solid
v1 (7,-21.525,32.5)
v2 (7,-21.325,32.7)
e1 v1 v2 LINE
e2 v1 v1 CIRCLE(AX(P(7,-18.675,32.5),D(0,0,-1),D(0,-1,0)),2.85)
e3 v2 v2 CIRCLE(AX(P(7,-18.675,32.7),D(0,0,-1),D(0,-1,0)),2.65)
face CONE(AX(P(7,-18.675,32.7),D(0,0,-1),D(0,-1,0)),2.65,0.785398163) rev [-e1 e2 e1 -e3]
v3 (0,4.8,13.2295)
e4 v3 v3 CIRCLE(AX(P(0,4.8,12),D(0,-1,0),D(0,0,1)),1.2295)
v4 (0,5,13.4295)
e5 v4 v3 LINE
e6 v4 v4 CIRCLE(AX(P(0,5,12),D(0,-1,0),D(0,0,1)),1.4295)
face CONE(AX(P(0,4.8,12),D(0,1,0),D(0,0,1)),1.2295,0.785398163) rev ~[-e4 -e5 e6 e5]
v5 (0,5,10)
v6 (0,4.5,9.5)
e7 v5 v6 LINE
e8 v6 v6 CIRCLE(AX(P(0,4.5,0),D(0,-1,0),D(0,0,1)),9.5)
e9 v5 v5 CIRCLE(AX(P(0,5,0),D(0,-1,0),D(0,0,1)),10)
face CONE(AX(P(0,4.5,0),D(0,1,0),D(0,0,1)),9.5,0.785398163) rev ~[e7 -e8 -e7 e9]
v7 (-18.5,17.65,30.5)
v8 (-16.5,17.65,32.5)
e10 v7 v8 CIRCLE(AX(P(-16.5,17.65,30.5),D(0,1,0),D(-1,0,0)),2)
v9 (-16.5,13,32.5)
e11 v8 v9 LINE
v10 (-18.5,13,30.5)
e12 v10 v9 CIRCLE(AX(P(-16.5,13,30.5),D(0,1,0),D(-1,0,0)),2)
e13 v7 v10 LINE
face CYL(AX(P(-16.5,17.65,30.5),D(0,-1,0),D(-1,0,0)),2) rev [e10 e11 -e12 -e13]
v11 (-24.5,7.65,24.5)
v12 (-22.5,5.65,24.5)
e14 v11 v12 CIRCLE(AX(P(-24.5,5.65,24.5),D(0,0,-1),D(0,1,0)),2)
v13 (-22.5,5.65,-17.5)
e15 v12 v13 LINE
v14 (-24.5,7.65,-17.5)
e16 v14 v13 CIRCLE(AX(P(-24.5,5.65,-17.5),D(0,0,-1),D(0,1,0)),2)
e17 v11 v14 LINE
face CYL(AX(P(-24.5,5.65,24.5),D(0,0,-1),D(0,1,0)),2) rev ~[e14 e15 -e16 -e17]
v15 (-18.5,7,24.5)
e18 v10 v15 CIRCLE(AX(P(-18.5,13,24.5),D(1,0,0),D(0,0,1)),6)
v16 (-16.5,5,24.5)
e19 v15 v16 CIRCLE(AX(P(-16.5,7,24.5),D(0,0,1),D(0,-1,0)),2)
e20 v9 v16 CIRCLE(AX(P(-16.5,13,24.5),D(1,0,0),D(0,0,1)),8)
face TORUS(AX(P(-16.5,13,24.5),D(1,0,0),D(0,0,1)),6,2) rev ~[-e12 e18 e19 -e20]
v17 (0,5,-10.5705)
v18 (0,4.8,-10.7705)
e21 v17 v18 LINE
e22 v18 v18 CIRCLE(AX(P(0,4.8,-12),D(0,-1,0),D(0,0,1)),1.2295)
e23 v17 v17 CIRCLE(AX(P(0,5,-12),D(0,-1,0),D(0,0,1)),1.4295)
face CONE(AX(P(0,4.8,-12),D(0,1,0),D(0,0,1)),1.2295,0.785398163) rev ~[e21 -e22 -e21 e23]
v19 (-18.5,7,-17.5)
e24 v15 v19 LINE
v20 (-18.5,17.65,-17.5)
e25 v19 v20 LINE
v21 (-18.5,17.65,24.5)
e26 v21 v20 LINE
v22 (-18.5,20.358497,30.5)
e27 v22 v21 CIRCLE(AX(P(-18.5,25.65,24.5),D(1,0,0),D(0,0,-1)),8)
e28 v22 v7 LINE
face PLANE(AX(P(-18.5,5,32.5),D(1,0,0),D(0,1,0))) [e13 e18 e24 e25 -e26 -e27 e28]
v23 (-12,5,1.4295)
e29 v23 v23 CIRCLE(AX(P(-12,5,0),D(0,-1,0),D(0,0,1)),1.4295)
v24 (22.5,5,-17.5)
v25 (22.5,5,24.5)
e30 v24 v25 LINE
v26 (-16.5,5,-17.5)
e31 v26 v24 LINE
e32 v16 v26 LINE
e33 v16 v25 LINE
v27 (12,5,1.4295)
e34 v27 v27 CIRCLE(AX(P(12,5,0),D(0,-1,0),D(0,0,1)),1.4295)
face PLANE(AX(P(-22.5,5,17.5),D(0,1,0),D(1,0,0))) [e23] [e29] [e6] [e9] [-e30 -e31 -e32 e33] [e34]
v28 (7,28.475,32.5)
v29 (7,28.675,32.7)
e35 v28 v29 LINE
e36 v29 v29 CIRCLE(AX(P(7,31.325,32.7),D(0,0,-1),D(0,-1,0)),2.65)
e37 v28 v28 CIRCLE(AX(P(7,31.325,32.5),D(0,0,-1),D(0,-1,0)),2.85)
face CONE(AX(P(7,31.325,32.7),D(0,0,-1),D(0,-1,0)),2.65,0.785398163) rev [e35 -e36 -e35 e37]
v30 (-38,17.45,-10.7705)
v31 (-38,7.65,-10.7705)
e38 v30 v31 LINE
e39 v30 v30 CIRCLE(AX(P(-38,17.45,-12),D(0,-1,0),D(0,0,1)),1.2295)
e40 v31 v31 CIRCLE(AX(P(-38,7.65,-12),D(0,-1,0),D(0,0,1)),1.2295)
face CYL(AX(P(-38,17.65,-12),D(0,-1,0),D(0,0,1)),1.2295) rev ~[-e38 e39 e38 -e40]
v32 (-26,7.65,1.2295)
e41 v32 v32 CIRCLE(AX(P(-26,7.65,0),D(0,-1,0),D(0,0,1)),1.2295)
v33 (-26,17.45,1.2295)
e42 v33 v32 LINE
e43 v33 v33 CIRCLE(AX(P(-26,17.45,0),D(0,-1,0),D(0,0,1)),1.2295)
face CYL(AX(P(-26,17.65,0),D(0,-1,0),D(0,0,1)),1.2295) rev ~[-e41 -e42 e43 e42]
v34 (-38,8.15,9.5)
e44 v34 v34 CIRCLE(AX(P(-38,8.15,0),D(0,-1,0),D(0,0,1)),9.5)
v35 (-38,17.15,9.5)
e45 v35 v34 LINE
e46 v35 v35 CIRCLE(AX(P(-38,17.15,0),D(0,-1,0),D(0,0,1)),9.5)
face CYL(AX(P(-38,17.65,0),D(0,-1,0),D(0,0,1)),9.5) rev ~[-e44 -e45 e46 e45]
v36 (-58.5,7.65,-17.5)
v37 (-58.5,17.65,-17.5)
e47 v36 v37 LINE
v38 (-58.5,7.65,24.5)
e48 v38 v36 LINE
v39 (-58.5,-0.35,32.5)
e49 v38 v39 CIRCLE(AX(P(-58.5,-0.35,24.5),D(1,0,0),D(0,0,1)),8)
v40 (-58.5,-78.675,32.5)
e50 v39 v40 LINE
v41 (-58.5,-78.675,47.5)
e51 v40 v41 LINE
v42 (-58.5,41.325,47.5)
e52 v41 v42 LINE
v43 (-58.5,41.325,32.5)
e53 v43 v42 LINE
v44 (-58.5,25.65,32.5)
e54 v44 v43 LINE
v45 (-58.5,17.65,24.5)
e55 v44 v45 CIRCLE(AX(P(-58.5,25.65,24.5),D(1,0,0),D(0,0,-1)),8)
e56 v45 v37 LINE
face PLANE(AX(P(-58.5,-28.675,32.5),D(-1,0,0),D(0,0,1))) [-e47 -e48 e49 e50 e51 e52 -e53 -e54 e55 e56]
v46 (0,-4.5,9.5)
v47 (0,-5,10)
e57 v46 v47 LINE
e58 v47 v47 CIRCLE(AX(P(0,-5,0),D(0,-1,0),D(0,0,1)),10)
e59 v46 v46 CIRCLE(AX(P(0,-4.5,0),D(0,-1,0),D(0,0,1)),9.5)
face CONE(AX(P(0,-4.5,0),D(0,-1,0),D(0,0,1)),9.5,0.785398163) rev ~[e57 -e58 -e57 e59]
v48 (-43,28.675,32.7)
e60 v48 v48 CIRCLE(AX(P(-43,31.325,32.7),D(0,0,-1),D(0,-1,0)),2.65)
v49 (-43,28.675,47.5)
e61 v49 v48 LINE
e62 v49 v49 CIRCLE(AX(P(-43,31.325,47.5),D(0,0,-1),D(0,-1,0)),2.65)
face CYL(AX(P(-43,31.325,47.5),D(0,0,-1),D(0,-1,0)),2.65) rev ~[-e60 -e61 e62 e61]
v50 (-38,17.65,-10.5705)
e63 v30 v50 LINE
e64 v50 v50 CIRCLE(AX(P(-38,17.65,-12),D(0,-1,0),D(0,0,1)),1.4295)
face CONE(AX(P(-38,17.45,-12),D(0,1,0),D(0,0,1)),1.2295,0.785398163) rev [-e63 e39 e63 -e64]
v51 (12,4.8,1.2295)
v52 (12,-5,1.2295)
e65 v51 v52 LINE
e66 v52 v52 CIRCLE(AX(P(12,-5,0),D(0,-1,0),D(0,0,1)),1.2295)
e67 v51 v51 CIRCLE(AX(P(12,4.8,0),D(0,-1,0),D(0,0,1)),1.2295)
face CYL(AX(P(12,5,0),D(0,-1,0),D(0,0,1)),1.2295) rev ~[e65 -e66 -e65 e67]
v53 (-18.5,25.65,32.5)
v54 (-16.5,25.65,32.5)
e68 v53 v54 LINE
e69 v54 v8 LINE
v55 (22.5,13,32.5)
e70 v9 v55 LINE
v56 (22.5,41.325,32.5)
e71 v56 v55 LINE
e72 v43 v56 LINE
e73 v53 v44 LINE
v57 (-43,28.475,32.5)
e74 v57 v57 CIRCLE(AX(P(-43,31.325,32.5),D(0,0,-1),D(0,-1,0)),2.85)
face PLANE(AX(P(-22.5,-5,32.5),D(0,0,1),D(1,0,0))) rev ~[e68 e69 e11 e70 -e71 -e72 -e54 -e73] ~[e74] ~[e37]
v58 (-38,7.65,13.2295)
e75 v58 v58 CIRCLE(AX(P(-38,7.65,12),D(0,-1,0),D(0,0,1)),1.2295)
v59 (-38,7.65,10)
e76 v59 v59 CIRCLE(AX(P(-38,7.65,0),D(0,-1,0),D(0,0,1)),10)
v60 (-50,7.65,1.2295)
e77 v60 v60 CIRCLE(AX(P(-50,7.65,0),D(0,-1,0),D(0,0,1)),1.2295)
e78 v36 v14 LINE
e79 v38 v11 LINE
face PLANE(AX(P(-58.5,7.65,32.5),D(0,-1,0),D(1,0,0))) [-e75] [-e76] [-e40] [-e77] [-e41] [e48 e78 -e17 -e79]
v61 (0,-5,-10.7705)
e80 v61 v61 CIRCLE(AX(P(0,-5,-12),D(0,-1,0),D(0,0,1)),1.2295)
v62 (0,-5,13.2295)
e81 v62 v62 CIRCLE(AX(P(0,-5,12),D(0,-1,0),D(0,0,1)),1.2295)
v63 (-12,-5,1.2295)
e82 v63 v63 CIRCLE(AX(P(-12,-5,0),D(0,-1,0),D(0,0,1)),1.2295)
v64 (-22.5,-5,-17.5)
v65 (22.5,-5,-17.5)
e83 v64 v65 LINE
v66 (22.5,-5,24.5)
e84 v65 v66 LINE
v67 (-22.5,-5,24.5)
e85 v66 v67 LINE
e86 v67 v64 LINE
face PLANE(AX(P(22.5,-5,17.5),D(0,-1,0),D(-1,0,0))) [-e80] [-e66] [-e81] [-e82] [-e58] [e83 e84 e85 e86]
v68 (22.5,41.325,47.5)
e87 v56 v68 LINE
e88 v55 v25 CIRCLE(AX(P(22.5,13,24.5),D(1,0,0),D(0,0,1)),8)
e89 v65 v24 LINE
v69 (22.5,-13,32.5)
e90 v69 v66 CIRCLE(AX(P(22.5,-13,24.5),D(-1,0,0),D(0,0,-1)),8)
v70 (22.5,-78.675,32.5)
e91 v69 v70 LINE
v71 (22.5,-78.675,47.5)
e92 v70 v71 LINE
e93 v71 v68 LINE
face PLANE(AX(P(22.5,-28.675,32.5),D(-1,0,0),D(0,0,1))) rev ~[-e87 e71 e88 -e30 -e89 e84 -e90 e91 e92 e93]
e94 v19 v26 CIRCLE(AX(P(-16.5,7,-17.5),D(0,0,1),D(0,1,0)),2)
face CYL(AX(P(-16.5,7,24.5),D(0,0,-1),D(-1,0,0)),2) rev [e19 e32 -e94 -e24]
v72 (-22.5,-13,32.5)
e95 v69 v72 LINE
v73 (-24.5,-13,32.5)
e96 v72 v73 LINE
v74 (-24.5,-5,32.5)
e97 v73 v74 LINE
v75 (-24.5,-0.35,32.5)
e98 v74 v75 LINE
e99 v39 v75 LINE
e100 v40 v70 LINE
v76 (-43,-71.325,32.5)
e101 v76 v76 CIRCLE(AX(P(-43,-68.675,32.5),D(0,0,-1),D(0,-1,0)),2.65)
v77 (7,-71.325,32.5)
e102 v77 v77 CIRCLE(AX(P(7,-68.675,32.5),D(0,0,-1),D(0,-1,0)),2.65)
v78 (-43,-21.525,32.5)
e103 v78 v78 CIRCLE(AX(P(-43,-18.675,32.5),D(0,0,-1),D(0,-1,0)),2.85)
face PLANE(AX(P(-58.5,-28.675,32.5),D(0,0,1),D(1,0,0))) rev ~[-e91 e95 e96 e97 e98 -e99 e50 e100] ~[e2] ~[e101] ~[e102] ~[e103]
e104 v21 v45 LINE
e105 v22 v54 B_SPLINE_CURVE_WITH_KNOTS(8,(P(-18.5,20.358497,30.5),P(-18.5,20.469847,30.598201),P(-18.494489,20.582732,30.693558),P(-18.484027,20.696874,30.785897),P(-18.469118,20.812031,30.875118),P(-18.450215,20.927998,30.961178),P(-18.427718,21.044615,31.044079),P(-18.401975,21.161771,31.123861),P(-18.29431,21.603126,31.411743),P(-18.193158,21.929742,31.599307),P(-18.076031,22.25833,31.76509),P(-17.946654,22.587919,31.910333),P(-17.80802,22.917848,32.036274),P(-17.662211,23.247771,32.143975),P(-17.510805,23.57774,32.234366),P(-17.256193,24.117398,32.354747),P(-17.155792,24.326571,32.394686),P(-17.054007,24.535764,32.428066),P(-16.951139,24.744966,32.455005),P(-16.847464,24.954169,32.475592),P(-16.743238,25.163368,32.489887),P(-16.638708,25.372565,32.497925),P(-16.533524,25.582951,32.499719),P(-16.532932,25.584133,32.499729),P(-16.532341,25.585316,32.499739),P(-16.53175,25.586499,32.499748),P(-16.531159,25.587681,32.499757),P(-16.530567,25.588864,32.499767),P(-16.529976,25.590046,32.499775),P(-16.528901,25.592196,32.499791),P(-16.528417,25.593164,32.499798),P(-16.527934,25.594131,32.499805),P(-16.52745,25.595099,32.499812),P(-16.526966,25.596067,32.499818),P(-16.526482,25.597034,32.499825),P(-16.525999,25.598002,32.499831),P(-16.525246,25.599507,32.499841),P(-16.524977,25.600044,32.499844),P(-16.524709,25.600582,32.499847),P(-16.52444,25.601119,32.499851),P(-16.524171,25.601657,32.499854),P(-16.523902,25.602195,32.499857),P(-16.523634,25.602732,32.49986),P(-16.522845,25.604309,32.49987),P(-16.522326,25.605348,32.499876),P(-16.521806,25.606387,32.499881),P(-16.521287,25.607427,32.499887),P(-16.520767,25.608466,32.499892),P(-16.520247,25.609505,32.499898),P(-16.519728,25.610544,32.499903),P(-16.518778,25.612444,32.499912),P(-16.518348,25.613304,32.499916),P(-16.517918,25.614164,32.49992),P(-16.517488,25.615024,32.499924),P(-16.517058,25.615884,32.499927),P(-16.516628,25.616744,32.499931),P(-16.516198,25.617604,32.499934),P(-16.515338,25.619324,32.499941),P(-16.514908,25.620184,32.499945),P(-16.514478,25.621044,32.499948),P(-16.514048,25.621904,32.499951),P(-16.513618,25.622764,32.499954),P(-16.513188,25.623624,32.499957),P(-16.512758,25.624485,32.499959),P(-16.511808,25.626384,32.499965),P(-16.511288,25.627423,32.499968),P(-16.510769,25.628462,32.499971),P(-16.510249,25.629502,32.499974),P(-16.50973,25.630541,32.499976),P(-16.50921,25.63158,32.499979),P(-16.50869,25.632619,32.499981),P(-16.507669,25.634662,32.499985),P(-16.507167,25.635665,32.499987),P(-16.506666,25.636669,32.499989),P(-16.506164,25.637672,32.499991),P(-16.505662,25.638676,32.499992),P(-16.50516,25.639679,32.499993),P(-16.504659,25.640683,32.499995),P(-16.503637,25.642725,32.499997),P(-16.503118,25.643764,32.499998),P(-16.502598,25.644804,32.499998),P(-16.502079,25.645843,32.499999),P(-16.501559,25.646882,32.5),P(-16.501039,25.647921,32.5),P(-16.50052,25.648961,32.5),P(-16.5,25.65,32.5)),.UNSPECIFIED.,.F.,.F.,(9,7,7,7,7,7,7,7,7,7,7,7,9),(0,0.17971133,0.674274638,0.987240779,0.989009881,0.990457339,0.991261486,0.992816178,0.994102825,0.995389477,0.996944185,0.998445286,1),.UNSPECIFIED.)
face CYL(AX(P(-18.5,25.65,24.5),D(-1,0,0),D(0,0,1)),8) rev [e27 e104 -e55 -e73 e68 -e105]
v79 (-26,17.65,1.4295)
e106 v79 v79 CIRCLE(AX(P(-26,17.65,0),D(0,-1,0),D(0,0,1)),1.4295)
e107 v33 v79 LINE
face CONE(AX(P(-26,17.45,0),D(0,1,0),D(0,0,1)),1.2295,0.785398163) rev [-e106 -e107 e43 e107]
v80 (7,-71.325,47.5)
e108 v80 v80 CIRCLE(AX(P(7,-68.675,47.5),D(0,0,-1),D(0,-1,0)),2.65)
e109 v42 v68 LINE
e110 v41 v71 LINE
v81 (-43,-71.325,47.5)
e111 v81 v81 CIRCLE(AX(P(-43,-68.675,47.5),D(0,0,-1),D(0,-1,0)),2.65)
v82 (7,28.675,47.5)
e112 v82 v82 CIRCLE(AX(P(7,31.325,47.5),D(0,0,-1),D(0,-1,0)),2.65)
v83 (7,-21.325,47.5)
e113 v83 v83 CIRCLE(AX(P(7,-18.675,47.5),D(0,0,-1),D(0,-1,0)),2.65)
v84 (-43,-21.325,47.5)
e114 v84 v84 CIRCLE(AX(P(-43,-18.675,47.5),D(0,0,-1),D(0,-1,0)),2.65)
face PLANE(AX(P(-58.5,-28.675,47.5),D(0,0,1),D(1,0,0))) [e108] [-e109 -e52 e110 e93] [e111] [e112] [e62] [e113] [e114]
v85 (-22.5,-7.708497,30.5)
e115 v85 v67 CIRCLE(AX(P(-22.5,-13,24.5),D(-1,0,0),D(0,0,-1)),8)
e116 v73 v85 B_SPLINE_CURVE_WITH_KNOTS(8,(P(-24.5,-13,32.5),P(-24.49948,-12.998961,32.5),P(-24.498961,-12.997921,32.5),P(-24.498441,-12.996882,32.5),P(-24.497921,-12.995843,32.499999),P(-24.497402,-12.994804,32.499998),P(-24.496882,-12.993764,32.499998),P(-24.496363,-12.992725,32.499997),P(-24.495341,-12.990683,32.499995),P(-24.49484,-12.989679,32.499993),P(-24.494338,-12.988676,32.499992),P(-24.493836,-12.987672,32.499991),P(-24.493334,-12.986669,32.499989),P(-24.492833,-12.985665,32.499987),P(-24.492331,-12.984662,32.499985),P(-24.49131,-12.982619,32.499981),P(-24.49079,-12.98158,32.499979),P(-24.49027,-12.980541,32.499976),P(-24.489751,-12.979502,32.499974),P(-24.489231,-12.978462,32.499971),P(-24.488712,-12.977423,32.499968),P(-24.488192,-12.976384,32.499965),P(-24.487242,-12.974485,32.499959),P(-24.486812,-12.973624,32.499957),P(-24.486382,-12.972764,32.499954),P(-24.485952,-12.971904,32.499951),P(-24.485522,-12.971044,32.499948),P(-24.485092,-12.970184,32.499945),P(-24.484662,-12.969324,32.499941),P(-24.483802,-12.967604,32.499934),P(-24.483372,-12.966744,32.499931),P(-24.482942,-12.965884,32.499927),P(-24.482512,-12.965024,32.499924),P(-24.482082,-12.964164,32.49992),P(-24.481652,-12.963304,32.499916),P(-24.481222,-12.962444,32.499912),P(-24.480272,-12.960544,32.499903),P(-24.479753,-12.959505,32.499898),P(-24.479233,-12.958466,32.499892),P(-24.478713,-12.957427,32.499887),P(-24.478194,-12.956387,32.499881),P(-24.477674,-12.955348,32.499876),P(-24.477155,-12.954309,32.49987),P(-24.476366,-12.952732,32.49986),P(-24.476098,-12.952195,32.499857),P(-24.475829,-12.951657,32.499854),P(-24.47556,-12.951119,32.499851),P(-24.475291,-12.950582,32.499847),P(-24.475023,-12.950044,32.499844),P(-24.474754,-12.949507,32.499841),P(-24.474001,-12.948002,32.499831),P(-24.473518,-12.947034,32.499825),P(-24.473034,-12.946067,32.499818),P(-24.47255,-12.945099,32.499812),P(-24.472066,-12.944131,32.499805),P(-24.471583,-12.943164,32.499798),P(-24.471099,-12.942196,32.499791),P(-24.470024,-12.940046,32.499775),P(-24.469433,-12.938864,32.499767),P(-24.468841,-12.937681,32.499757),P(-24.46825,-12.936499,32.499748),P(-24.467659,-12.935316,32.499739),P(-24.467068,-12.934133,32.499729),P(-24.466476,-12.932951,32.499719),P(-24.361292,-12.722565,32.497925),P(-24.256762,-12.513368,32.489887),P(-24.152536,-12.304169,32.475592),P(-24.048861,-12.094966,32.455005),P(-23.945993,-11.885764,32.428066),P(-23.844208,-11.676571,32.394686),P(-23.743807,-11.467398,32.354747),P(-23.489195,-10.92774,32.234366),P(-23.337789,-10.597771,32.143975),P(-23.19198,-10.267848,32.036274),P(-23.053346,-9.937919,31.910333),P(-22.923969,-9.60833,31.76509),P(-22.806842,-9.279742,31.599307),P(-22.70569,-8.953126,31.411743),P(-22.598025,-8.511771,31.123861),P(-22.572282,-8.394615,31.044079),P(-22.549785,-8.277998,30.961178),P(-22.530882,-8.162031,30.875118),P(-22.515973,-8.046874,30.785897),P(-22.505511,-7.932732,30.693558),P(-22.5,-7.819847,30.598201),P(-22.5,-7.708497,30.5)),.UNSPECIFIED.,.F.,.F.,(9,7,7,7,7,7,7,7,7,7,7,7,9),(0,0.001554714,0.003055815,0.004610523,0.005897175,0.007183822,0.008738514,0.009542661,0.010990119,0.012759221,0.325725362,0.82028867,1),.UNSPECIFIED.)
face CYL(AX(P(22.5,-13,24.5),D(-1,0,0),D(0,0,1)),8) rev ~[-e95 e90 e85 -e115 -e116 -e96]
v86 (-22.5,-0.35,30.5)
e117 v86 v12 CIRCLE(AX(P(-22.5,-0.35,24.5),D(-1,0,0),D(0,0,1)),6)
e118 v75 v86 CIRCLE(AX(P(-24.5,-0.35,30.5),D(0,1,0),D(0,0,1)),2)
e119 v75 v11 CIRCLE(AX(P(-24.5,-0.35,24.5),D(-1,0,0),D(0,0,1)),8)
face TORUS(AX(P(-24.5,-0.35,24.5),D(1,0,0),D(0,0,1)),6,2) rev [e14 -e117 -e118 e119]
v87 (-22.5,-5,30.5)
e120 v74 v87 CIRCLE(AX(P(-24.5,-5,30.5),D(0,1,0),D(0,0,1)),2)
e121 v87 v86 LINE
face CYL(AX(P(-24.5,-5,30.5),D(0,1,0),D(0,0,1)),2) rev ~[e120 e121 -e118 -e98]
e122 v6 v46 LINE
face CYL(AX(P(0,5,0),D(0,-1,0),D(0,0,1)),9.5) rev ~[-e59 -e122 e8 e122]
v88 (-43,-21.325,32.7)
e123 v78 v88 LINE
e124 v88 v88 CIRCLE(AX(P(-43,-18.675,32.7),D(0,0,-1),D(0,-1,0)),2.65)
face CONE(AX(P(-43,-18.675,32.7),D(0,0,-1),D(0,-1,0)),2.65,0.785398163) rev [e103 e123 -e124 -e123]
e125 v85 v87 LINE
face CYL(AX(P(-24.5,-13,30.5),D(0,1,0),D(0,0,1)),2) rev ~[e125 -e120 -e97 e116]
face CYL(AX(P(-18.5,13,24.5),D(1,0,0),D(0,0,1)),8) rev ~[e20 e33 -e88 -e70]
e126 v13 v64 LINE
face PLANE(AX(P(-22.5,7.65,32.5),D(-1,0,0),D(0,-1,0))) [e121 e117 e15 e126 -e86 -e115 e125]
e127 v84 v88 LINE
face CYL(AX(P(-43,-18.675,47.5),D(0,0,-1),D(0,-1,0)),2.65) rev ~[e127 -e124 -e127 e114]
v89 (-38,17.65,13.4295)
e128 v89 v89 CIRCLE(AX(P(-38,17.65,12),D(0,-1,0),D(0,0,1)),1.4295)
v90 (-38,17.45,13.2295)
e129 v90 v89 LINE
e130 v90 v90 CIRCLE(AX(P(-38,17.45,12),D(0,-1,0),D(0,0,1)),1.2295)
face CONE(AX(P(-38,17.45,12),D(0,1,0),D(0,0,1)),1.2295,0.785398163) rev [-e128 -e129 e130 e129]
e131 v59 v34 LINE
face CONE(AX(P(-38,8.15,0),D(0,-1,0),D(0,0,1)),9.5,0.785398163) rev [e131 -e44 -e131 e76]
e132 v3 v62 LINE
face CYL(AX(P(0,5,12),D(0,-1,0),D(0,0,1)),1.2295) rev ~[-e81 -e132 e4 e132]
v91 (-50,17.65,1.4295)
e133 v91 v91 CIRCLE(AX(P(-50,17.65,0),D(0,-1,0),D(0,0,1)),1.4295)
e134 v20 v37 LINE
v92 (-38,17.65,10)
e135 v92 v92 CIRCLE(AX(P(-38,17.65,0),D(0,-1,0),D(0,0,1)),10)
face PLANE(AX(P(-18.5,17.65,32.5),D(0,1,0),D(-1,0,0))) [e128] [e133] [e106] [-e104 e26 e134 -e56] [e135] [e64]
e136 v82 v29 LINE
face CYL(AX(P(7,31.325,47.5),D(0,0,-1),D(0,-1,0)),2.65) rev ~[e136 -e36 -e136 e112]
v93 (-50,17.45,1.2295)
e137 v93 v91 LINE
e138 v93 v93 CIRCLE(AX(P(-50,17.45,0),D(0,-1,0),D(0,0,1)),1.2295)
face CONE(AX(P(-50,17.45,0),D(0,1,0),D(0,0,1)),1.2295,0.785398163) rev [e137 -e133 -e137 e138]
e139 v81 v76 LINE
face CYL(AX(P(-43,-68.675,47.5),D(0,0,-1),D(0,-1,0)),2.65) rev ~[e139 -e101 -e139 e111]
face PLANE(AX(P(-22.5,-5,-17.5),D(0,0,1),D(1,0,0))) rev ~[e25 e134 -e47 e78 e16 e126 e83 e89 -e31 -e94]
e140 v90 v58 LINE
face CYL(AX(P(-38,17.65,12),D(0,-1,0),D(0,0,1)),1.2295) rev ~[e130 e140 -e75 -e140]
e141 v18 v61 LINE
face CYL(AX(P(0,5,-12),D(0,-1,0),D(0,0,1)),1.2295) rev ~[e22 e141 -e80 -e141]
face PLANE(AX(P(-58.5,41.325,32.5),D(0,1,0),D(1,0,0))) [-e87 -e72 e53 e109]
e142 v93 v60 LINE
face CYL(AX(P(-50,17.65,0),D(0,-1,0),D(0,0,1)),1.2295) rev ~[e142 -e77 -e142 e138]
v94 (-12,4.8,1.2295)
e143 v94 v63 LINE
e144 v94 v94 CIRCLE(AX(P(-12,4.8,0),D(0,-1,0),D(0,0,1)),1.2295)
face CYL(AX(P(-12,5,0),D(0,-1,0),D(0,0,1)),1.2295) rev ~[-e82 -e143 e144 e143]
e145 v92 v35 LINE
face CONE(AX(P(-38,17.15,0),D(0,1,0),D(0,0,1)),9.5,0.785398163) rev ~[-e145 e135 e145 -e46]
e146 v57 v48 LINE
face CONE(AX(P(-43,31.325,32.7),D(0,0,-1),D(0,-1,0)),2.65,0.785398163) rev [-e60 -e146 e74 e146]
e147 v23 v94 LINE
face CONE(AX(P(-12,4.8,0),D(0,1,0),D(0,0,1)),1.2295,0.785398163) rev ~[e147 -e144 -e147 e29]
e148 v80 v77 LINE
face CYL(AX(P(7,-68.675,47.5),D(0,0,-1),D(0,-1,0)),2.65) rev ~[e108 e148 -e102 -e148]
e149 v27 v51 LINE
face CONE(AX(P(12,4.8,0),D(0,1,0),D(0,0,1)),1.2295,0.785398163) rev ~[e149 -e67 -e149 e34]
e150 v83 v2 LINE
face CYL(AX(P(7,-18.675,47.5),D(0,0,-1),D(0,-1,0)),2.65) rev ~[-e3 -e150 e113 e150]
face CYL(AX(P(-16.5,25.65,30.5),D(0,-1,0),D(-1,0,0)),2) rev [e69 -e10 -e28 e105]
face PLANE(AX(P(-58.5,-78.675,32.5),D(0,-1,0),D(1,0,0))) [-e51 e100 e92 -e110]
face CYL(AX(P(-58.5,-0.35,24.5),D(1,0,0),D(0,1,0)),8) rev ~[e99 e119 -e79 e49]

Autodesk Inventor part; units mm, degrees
ref_plane "YZ Plane" through (0, 0, 0) normal (1, 0, 0) x (0, 1, 0)
ref_plane "XZ Plane" through (0, 0, 0) normal (0, 1, 0) x (-1, 0, 0)
ref_plane "XY Plane" through (0, 0, 0) normal (0, 0, 1) x (1, 0, 0)
sketch "Sketch1" plane through (0, 0, 0) normal (0, 1, 0) x (-1, 0, 0)
  line L0 (-22.5, 17.5) -> (22.5, 17.5)
  line L1 (22.5, 17.5) -> (22.5, -17.5)
  line L2 (22.5, -17.5) -> (-22.5, -17.5)
  line L3 (-22.5, -17.5) -> (-22.5, 17.5)
  line L4 (-22.5, 17.5) -> (22.5, -17.5) construction
  line L5 (22.5, 17.5) -> (-22.5, -17.5) construction
  point P0 (0, 0)
  dimension "d0" = 45
  dimension "d1" = 35
extrude "Extrusion1" add sketch "Sketch1" along normal mid plane 10
sketch "Sketch2" plane through (0, 5, 0) normal (0, 1, 0) x (1, 0, 0)
  point P0 (0, 0)
  point P1 (0, 0)
hole "Hole1" at (0, 5, 0) direction (0, -1, 0) diameter 19 end through all
sketch "Sketch3" plane through (0, 5, 0) normal (0, 1, 0) x (1, 0, 0)
  circle A0 centre (0, 0) radius 12 construction
  point P0 (0, 12)
  point P1 (12, 0)
  point P2 (0, -12)
  point P3 (-12, 0)
  dimension "d11" = 24
hole "Hole2" at (0, 5, -12) at (12, 5, 0) at (0, 5, 12) at (-12, 5, 0) direction (0, -1, 0) diameter 2.459 end through all thread size "M3x0.5" class "6H" standard "ISO Metric profile"
chamfer "Chamfer1" distance 0.2 angle 45 4 edges at (0, 5, -13.2295) (12, 5, -1.2295) (-12, 5, -1.2295) (0, 5, 10.7705)
chamfer "Chamfer2" distance 0.5 angle 45 2 edges at (0, 5, -9.5) (0, -5, -9.5)
sketch "Sketch4" plane through (-22.5, -5, 17.5) normal (0, 0, 1) x (1, 0, 0)
  line L0 (45, 0) -> (0, 0) projected
  line L1 (45, 0) -> (45, 10) projected
  line L2 (0, 10) -> (45, 10) projected
  line L3 (0, 0) -> (0, 10) projected
  point P0 (22.5, 5)
extrude "1" add sketch "Sketch4" along normal blind 15
sketch "Sketch7" plane through (-22.5, -5, 32.5) normal (0, 0, 1) x (1, 0, 0)
  line L0 (45, 10) -> (0, 10) construction
  line L1 (0, 10) -> (0, 0) construction
  line L2 (0, 0) -> (45, 0) construction
  line L3 (45, 0) -> (45, 10) construction
  line L4 (4, 10) -> (4, 22.65)
  line L5 (0, 10) -> (4, 10)
  line L6 (4, 22.65) -> (-36, 22.65)
  line L7 (6.5, 15) -> (6.5, 10) construction
  line L8 (0.5, 27.65) -> (0.5, 22.65) construction
  line L9 (-36, 12.65) -> (-36, 22.65)
  line L10 (-36, 12.65) -> (0, 12.65)
  line L11 (0, 12.65) -> (0, 10)
  point P0 (22.5, 5)
  dimension "d46" = 12.65
  dimension "d47" = 45
  dimension "d49" = 40
  dimension "d75" = 10
extrude "2" add sketch "Sketch7" against normal up to surface (50 mm away)
sketch "Sketch8" plane through (-58.5, 17.65, 32.5) normal (0, 1, 0) x (1, 0, 0)
  circle A0 centre (20.5, 32.5) radius 16 projected
  circle A1 centre (32.5, 32.5) radius 3 projected
  circle A2 centre (20.5, 20.5) radius 3 projected
  circle A3 centre (8.5, 32.5) radius 3 projected
  circle A4 centre (20.5, 44.5) radius 3 projected
  circle A5 centre (20.5, 32.5) radius 6 projected
  point P0 (58.5, 32.5)
hole "Hole4" at (-38, 17.65, 0) direction (0, -1, 0) diameter 19 end through all
hole "Hole5" at (-38, 17.65, -12) at (-26, 17.65, 0) at (-38, 17.65, 12) at (-50, 17.65, 0) direction (0, -1, 0) diameter 2.459 end through all thread size "M3x0.5" class "6H" standard "ISO Metric profile"
chamfer "Chamfer4" distance 0.2 angle 45 4 edges at (-38, 17.65, -13.2295) (-26, 17.65, -1.2295) (-50, 17.65, -1.2295) (-38, 17.65, 10.7705)
chamfer "Chamfer5" distance 0.5 angle 45 2 edges at (-38, 17.65, -9.5) (-38, 7.65, -9.5)
sketch "Sketch9" plane through (-22.5, -5, 32.5) normal (0, 0, 1) x (1, 0, 0)
  line L0 (-36, 22.65) -> (-36, 12.65) construction
  line L1 (0, 0) -> (45, 0) construction
  line L2 (-36, 22.65) -> (45, 22.65) construction
  line L3 (45, 22.65) -> (45, 0) construction
  line L4 (45, 0) -> (-36, 0) construction
  line L5 (-36, 0) -> (-36, 22.65) construction
  line L6 (-36, 22.65) -> (45, 0) construction
  line L7 (45, 22.65) -> (-36, 0) construction
  line L8 (45, -23.675) -> (-36, -23.675)
  line L9 (-36, -23.675) -> (-36, 46.325)
  line L10 (-36, 46.325) -> (45, 46.325)
  line L11 (45, 46.325) -> (45, -23.675)
  line L12 (45, -23.675) -> (-36, 46.325) construction
  line L13 (-36, -23.675) -> (45, 46.325) construction
  point P0 (22.5, 5)
  point P1 (4.5, 11.325)
  dimension "d76" = 81
  dimension "d77" = 70
extrude "Extrusion5" add sketch "Sketch9" along normal blind 15
sketch "Sketch11" plane through (-58.5, -28.675, 32.5) normal (0, -1, 0) x (1, 0, 0)
  line L0 (0, 0) -> (81, 0) projected
  line L1 (81, 0) -> (81, 15) projected
  line L2 (0, 15) -> (81, 15) projected
  line L3 (0, 0) -> (0, 15) projected
  point P0 (58.5, -32.5)
extrude "Extrusion6" add sketch "Sketch11" along normal blind 50
sketch "Sketch10" plane through (-22.5, -5, 47.5) normal (0, 0, 1) x (1, 0, 0)
  line L0 (45, 46.325) -> (-36, 46.325) construction
  line L1 (-36, 46.325) -> (-36, -73.675) construction
  line L2 (45, 46.325) -> (45, -73.675) construction
  line L3 (-36, 46.325) -> (-36, -23.675) construction
  line L4 (-20.5, -13.675) -> (29.5, -13.675) construction
  line L5 (29.5, -13.675) -> (29.5, 36.325) construction
  line L6 (29.5, 36.325) -> (-20.5, 36.325) construction
  line L7 (-20.5, 36.325) -> (-20.5, -13.675) construction
  line L8 (-20.5, -13.675) -> (29.5, 36.325) construction
  line L9 (29.5, -13.675) -> (-20.5, 36.325) construction
  line L10 (45, -73.675) -> (-36, -73.675) projected
  point P0 (4.5, 11.325)
  point P1 (-20.5, -63.675)
  point P2 (29.5, -63.675)
  dimension "d80" = 50
  dimension "d81" = 50
  dimension "d91" = 40.5
  dimension "d92" = 35
  dimension "d93" = 50
hole "Hole6" at (-43, 31.325, 47.5) at (7, 31.325, 47.5) at (7, -18.675, 47.5) at (-43, -18.675, 47.5) at (7, -68.675, 47.5) at (-43, -68.675, 47.5) direction (0, 0, -1) diameter 5.3 end through all clearance for "Hex Head Cap Screw ISO 24017" size "M5" standard "ISO"
fillet "Fillet2" radius 8 4 edges at (0, -5, 32.5) (-40.5, 7.65, 32.5) (-38.5, 17.65, 32.5) (2, 5, 32.5)
fillet "Fillet3" radius 2 4 edges at (-18.5, 7.3431, 30.1569) (-18.5, 15.325, 32.5) (-18.5, 5, 3.5) (-22.5, 7.65, 3.5)
chamfer "Chamfer6" distance 0.2 angle 45 4 edges at (-43, -16.025, 32.5) (7, -16.025, 32.5) (-43, 33.975, 32.5) (7, 33.975, 32.5)
properties part number "KN-00-02-05" material "X5CrNi18-10"
